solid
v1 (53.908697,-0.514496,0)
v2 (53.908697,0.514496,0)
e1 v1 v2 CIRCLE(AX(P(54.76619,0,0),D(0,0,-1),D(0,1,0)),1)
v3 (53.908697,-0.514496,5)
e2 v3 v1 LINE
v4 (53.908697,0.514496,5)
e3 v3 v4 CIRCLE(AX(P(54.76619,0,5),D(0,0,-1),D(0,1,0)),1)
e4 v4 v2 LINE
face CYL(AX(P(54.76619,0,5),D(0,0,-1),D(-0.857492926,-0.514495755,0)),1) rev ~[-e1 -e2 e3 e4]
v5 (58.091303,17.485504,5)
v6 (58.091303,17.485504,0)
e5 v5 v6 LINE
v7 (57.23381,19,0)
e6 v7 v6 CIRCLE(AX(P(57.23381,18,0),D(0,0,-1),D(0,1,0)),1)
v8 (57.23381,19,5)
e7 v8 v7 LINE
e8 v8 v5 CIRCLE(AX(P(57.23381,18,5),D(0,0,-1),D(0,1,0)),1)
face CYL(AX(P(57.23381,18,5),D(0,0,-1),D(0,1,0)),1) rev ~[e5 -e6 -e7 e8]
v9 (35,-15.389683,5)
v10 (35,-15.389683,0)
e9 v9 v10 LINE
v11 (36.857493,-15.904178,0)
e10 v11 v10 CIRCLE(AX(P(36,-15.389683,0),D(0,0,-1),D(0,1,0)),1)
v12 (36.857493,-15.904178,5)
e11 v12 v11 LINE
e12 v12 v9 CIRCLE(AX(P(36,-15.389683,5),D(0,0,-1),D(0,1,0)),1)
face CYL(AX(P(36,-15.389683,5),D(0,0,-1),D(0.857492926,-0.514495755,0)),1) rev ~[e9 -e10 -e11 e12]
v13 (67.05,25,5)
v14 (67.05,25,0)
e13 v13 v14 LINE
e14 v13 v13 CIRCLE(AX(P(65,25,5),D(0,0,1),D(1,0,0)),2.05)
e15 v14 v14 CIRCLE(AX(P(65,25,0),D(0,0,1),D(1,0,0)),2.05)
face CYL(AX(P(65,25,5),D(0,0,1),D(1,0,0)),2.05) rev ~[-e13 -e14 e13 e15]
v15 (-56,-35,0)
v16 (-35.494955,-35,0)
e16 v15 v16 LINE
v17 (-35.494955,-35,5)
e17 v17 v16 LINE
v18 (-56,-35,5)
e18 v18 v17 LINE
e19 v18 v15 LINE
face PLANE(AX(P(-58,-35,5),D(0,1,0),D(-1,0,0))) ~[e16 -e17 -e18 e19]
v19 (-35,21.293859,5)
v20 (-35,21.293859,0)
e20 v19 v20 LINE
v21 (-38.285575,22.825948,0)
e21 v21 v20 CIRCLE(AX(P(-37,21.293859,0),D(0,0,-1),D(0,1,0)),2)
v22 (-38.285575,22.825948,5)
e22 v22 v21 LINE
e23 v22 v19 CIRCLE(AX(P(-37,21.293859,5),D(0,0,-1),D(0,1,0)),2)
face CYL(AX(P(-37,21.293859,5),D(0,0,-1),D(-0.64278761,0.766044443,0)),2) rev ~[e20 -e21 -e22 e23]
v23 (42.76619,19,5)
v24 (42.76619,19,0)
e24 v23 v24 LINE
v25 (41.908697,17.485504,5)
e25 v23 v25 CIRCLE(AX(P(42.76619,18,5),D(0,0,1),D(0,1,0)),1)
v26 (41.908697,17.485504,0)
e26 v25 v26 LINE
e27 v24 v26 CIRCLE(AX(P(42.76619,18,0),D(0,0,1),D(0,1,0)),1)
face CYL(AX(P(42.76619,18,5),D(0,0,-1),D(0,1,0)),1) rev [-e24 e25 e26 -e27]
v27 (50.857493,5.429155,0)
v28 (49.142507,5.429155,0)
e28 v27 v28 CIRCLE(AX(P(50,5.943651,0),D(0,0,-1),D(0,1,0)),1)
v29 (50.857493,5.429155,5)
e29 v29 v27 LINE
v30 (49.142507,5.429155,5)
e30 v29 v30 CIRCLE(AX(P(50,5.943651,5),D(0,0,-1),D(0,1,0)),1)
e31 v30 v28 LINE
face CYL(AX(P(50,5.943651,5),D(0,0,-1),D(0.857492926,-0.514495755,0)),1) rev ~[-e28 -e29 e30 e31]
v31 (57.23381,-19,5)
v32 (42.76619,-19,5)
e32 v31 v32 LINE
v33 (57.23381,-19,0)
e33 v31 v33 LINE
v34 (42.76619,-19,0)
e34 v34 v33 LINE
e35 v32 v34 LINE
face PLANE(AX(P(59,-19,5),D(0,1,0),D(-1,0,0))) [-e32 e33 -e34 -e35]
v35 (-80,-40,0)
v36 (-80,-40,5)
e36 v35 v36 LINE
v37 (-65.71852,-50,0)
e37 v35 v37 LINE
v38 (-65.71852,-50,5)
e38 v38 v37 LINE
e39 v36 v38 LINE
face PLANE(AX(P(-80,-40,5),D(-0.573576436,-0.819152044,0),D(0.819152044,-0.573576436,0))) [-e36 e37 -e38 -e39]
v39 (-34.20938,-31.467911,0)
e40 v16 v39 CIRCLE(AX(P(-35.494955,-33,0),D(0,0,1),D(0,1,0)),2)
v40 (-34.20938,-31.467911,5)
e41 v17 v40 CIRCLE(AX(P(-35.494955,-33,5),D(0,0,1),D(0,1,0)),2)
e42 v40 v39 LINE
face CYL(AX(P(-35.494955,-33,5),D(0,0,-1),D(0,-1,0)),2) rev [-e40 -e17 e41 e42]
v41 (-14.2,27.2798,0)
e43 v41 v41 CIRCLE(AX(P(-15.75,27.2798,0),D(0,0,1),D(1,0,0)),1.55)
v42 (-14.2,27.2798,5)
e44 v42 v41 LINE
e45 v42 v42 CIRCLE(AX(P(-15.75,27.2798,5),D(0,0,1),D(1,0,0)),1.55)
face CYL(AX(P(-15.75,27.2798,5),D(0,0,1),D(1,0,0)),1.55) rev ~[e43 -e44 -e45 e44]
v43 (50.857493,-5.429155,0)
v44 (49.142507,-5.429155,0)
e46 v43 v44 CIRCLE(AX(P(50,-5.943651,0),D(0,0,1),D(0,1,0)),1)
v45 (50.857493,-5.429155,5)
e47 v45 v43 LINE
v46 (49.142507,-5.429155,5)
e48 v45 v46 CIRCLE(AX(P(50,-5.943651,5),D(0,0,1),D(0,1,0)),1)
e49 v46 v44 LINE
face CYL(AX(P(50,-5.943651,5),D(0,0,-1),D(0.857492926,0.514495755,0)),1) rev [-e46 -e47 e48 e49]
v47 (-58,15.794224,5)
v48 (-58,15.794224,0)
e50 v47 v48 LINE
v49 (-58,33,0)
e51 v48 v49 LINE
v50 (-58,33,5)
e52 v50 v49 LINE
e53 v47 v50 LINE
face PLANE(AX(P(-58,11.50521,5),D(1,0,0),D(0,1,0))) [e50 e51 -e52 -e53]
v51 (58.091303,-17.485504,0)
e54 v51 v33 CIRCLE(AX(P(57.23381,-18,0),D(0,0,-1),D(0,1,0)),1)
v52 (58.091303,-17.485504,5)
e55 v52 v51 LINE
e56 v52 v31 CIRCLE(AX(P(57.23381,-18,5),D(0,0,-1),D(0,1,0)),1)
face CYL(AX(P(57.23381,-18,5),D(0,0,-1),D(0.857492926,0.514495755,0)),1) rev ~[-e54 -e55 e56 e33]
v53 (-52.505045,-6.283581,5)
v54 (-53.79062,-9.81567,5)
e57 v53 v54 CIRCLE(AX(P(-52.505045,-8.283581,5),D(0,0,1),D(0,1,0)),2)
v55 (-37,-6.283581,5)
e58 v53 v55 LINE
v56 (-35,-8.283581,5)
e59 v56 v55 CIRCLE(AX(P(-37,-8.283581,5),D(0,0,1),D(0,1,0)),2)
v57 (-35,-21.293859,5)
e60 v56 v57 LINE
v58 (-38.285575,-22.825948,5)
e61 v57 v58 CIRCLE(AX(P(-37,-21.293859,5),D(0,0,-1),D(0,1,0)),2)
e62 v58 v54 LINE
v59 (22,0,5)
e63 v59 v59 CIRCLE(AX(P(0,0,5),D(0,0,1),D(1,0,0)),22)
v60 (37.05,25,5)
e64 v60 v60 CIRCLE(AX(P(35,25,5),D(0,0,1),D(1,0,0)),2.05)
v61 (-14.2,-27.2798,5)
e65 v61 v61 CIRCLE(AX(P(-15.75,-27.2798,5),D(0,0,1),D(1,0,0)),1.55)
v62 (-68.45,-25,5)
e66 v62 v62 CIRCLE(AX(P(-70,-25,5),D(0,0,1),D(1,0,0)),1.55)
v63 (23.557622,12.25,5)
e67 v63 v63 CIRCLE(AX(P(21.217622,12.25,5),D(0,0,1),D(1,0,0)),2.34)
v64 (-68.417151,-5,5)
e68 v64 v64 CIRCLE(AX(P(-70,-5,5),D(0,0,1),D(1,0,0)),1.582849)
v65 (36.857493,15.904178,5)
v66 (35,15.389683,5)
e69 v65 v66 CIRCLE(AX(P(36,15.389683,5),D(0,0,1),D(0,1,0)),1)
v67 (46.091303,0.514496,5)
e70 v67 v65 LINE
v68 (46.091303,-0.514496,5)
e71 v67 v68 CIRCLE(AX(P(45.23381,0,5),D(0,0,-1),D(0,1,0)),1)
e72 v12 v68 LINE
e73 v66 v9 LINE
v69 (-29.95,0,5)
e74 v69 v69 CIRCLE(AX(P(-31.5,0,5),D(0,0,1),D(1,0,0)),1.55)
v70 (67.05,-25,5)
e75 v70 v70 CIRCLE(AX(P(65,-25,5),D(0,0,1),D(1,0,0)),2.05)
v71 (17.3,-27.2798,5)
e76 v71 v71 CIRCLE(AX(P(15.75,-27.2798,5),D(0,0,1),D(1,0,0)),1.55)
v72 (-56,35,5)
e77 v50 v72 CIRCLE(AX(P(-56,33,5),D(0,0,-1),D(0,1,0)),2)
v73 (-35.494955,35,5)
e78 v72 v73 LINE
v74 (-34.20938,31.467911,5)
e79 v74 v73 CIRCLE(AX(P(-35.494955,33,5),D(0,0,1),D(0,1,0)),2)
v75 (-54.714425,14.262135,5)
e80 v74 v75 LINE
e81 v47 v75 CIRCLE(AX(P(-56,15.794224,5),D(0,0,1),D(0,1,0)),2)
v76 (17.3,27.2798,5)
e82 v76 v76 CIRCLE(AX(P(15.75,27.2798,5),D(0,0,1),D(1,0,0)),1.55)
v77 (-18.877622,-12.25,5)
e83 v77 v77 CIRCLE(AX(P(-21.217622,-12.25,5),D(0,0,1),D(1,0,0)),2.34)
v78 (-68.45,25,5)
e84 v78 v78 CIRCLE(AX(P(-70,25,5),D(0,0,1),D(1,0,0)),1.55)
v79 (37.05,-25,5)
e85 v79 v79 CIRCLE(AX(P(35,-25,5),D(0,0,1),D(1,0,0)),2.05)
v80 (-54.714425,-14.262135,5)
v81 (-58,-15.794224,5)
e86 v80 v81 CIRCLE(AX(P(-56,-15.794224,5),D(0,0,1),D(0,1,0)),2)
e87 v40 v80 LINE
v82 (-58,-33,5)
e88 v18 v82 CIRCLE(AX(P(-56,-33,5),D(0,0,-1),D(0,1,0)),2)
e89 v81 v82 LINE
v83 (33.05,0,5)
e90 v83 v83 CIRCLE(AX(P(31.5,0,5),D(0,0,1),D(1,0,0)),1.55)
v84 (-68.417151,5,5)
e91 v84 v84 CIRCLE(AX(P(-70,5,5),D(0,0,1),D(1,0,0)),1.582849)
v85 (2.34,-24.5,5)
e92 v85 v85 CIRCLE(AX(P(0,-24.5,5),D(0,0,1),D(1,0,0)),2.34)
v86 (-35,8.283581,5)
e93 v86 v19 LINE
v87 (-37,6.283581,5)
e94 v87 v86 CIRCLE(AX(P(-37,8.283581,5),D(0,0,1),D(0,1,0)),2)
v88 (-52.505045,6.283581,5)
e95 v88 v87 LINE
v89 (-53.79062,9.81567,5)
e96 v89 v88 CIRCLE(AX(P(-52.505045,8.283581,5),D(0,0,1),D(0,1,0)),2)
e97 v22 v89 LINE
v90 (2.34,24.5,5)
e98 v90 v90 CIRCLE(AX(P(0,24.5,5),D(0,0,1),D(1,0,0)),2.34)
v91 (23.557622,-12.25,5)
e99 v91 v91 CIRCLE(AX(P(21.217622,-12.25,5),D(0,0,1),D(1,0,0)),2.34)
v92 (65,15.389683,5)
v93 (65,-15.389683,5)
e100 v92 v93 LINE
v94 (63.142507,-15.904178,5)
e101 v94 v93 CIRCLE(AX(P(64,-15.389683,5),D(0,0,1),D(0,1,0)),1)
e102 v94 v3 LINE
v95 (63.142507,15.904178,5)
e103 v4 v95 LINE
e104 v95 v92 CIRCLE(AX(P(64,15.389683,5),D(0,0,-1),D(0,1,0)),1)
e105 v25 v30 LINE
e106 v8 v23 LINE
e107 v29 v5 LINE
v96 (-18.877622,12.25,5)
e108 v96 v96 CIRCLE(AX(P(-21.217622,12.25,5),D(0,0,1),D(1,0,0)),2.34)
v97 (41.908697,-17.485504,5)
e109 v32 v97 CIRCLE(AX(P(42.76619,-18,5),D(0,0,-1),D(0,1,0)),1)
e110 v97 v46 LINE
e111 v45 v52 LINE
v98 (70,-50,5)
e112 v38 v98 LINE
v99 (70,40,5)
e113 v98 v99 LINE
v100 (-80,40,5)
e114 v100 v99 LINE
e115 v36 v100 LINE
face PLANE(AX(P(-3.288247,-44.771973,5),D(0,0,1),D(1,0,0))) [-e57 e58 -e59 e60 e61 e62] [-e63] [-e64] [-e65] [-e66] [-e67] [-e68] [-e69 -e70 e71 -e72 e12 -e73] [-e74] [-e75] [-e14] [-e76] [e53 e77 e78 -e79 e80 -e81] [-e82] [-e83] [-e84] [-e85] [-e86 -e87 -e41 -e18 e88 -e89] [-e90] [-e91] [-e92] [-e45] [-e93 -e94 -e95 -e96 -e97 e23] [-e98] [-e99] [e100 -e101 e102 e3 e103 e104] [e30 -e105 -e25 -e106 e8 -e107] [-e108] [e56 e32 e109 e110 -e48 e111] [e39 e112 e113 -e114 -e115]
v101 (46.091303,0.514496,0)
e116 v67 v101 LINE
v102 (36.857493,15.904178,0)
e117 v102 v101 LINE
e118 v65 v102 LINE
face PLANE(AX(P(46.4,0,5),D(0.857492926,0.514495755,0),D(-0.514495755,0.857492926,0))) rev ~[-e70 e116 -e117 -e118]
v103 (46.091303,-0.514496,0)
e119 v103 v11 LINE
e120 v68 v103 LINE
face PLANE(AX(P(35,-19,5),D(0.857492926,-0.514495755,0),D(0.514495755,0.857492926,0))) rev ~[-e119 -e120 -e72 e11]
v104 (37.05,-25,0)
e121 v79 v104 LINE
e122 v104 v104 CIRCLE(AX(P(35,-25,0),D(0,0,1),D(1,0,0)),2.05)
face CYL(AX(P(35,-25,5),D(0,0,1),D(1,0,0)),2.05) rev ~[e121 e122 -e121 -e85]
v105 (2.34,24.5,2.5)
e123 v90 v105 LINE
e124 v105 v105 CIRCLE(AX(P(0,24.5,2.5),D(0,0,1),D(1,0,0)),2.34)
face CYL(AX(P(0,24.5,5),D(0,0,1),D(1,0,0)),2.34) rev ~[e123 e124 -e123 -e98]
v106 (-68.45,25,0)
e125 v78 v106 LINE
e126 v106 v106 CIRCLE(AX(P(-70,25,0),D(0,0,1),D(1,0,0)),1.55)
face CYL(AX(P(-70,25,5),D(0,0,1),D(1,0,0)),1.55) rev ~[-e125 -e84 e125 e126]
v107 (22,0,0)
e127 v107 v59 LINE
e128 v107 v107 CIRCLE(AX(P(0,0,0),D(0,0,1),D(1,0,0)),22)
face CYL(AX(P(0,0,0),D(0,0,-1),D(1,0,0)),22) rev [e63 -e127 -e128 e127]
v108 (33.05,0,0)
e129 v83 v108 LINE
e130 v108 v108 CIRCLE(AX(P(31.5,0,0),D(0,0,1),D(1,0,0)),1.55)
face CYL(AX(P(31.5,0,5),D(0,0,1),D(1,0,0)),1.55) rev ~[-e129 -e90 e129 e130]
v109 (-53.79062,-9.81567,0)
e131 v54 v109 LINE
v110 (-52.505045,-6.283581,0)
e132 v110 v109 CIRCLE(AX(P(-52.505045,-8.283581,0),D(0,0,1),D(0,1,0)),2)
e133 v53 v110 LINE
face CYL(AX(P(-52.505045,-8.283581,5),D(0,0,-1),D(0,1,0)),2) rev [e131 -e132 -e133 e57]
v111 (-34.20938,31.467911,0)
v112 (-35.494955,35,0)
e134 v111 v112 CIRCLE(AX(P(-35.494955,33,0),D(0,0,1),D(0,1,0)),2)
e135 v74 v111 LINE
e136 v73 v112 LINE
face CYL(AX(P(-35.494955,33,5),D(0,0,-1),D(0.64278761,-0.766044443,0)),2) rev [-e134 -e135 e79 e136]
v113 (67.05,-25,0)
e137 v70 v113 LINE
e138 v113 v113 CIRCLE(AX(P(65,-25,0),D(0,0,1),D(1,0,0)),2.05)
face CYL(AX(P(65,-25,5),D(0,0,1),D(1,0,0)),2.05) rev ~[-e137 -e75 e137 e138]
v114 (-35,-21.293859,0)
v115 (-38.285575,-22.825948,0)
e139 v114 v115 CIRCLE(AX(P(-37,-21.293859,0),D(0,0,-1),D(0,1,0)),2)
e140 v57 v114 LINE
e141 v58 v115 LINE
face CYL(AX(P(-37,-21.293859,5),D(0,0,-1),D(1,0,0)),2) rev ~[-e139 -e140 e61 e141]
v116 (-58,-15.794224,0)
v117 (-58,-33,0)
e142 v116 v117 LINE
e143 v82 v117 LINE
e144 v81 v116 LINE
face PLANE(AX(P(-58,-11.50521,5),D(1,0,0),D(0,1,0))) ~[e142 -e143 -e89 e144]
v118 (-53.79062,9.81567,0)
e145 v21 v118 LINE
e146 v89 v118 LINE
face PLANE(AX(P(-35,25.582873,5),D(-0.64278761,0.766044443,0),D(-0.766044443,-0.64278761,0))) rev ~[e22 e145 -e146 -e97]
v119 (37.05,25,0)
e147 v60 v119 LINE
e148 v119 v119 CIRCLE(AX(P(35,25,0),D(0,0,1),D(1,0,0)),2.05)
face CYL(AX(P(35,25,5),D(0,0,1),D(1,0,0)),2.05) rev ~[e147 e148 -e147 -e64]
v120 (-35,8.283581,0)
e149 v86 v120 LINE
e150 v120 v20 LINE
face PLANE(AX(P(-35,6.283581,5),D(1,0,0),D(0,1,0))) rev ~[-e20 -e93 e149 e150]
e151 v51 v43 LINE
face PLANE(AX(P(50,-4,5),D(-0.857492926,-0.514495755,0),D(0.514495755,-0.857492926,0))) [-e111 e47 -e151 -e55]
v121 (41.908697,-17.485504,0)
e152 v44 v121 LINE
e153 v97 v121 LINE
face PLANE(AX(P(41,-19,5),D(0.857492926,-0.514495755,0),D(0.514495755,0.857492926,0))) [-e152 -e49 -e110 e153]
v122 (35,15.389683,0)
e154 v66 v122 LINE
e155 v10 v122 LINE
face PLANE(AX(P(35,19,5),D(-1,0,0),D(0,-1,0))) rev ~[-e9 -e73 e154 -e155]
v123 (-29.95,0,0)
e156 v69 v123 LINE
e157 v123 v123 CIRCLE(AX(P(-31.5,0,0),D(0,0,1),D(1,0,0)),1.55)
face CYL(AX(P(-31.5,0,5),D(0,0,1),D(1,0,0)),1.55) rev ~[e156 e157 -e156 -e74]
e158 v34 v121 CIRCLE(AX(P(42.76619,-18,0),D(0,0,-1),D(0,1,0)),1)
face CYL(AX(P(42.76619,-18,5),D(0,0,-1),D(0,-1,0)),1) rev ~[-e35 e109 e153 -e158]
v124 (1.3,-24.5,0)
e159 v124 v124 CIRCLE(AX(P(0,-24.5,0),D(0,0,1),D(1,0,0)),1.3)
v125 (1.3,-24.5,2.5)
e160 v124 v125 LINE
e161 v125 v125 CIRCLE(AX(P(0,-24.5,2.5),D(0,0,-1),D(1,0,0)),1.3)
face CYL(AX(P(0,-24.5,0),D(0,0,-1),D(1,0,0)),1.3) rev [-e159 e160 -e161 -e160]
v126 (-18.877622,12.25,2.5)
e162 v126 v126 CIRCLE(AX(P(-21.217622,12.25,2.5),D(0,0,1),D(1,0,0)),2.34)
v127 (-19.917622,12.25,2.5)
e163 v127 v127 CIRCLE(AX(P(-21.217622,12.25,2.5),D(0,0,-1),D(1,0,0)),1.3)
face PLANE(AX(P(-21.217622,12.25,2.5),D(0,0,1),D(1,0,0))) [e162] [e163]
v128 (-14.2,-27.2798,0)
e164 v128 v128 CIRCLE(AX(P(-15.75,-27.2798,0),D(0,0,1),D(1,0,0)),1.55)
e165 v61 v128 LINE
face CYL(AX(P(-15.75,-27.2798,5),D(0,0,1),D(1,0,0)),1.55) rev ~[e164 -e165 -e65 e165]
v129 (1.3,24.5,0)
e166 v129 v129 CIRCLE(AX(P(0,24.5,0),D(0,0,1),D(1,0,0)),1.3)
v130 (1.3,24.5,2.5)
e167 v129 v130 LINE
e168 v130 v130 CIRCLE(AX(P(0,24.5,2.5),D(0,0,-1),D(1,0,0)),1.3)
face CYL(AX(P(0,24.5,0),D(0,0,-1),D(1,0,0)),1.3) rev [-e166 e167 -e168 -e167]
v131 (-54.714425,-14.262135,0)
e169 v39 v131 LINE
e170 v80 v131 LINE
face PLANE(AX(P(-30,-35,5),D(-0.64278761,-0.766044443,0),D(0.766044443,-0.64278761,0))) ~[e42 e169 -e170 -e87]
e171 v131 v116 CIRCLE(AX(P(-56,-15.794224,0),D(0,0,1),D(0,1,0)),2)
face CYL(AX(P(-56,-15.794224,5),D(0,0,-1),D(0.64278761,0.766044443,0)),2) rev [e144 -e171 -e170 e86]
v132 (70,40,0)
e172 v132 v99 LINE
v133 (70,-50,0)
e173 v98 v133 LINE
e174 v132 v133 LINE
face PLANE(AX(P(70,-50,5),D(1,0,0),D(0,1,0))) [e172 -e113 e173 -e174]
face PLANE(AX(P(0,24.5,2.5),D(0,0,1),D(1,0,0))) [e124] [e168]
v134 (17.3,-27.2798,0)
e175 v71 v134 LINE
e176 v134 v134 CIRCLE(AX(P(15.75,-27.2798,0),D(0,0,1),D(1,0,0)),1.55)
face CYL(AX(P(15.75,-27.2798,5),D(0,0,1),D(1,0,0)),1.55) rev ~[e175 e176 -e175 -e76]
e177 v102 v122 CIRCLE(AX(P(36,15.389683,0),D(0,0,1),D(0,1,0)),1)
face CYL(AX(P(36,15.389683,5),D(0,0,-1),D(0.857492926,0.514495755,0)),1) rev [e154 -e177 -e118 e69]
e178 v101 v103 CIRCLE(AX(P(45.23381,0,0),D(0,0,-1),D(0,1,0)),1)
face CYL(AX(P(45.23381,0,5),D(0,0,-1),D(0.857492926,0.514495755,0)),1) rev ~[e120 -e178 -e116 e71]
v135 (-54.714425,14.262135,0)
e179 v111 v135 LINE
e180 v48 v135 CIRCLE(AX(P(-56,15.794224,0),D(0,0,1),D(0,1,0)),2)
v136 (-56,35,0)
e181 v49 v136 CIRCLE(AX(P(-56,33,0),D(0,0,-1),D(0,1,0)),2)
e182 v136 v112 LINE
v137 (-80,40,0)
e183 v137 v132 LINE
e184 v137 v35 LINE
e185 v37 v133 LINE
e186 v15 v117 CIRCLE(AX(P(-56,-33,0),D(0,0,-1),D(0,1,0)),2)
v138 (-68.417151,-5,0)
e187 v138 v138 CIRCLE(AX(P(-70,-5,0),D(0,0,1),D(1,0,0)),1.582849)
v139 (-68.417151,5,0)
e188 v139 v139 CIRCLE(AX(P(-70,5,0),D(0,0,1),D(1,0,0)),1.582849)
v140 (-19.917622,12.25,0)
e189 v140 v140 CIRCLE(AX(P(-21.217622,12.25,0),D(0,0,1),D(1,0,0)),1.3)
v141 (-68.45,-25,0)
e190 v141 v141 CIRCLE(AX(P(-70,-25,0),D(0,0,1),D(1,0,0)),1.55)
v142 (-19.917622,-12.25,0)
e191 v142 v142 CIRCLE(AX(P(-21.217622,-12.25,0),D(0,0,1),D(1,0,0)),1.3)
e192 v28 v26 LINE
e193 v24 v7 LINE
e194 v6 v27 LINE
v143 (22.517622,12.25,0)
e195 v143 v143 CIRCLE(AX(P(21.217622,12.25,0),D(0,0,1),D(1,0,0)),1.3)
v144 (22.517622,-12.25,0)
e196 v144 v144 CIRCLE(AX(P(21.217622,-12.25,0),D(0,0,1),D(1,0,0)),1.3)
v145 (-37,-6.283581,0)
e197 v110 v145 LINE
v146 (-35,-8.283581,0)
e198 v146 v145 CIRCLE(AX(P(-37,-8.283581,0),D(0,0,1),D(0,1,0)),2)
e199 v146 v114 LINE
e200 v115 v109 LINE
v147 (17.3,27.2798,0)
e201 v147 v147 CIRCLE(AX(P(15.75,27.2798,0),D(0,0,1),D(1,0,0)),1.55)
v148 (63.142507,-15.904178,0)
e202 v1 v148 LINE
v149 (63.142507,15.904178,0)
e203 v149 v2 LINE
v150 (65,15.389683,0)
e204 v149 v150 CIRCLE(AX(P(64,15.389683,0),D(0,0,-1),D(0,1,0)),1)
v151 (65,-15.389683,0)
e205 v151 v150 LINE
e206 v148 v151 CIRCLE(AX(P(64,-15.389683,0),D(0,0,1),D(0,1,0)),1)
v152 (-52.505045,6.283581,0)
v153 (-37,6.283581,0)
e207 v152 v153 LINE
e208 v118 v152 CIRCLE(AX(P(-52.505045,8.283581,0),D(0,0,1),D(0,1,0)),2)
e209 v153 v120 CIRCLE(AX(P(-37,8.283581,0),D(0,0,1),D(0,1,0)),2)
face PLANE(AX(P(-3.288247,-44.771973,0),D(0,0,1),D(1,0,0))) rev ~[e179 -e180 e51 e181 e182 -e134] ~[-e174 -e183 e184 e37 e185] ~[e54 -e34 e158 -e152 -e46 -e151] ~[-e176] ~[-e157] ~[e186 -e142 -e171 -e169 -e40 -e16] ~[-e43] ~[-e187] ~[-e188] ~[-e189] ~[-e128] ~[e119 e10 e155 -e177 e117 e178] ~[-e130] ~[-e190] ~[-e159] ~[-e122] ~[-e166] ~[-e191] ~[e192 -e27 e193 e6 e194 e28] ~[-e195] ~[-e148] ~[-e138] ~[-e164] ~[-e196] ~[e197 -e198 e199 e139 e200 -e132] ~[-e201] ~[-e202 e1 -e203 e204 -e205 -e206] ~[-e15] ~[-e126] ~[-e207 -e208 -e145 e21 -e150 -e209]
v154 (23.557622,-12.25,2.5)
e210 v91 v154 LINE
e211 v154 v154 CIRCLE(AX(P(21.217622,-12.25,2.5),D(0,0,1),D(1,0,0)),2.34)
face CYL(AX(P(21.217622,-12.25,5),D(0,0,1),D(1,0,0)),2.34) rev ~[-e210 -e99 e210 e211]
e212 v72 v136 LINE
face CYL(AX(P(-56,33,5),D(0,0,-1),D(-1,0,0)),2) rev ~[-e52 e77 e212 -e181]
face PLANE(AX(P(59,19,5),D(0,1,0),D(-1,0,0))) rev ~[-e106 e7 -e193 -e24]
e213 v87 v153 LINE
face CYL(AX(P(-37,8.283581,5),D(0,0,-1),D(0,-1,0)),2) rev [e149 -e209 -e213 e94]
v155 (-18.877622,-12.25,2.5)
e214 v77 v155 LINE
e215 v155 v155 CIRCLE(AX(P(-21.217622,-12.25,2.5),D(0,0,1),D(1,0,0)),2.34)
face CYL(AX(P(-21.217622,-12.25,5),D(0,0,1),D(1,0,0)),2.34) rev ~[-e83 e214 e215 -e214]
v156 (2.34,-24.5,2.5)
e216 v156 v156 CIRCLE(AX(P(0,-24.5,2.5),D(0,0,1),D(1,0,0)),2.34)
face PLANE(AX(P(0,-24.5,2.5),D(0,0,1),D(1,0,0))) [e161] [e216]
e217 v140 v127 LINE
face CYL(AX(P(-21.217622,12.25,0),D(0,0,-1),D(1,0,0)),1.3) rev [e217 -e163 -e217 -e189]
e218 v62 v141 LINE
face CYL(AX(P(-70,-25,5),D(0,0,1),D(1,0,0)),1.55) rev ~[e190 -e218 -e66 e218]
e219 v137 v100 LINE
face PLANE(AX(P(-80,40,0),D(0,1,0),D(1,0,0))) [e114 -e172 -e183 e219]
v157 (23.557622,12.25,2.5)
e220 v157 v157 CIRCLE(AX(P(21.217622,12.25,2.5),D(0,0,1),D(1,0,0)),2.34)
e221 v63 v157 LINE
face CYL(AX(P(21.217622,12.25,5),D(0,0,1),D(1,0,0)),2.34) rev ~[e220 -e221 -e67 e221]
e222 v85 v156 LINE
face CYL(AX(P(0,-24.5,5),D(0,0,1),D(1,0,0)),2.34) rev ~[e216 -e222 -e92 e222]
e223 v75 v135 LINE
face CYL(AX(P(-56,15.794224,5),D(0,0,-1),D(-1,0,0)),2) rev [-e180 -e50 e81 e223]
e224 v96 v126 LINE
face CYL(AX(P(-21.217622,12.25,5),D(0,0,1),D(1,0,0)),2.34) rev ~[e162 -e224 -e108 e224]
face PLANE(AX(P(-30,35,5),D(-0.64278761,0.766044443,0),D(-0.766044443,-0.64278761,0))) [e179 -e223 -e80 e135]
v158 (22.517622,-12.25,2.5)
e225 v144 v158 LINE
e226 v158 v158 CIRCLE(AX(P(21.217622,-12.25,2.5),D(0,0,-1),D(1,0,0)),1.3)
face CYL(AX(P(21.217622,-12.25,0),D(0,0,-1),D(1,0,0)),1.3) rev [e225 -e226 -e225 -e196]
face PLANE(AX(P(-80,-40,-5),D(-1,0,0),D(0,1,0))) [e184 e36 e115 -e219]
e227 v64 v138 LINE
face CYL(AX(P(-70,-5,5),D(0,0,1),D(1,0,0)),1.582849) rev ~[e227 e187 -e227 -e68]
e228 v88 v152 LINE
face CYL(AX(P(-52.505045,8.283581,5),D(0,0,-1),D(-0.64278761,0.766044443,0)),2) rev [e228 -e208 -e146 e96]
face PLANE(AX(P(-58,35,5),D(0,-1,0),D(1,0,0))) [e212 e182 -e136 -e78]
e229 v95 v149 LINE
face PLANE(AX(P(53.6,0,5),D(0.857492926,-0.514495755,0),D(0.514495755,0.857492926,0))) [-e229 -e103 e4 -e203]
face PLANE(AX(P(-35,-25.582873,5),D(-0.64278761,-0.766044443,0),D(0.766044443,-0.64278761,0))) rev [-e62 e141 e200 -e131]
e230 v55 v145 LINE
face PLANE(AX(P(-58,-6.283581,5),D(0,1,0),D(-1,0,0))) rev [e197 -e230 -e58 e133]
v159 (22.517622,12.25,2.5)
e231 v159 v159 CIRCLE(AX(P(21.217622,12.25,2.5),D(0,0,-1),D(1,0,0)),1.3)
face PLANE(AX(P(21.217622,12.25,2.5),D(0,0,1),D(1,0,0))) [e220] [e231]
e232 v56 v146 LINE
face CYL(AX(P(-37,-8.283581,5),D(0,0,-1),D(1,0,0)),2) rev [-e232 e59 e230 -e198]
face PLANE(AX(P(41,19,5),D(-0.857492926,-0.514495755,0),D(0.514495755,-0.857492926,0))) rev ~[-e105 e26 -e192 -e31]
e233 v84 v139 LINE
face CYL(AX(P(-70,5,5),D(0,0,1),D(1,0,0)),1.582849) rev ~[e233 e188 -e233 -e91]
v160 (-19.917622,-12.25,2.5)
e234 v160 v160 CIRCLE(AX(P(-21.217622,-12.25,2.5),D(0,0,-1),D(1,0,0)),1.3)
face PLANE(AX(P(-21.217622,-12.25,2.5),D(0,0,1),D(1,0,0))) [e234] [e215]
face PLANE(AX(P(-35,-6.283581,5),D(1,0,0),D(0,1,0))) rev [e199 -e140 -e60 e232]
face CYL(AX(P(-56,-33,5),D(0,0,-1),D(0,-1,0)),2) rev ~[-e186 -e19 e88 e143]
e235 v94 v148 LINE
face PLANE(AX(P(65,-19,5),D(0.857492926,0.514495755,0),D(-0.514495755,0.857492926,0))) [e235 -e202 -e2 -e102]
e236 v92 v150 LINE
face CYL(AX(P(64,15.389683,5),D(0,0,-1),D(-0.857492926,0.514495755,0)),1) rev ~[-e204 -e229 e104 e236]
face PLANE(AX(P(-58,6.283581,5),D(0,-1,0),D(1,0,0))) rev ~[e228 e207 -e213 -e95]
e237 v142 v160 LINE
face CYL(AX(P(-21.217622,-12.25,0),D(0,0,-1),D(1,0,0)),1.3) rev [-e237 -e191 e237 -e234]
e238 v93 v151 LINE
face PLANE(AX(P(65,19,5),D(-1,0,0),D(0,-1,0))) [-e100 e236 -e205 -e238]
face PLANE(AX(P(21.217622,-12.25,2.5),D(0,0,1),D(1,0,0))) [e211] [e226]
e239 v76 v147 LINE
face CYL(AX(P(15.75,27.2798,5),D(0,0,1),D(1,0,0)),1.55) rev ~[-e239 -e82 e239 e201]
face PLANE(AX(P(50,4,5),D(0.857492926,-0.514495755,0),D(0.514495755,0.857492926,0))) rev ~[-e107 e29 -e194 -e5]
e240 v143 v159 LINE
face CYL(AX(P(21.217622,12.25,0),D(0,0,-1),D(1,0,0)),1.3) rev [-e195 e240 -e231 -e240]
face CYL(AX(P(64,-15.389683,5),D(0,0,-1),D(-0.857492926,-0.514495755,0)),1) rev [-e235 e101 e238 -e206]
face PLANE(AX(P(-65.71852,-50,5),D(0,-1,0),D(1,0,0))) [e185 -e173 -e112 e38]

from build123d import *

# Parameters (mm, degrees)
SKETCH_1_W             = 150
SKETCH_1_H             = 80
SKETCH_1_R             = 1.3
SKETCH_1_R_2           = 22
EXTRUDE_1_DEPTH        = 5
SKETCH_2_R             = 2.34
CUT_EXTRUDE_1_DEPTH    = 2.5
SKETCH_3_R             = 1.55
SKETCH_3_R_2           = 1.582849294
CUT_EXTRUDE_3_DEPTH    = 12.5
CUT_EXTRUDE_5_DEPTH    = 8
FILLET_3_R             = 2
FILLET_3_OF_MIRROR_2_R = 2
EXTRUDE_4_DEPTH        = 5
FILLET_5_R             = 5
SKETCH_11_R            = 1.55
CUT_EXTRUDE_7_DEPTH    = 25
SKETCH_12_R            = 2.05
CUT_EXTRUDE_8_DEPTH    = 10
CUT_EXTRUDE_9_DEPTH    = 10
FILLET_6_R             = 1
EXTRUDE_5_DEPTH        = 5
CUT_EXTRUDE_START      = -10
CUT_EXTRUDE_10_DEPTH   = 10


with BuildPart() as part:
    # 草图1 → 凸台-拉伸1 (new body)
    with BuildSketch(Plane.XY):
        with Locations((-5, 0)):
            Rectangle(SKETCH_1_W, SKETCH_1_H)
        with Locations((0, -24.5)):
            Circle(SKETCH_1_R, mode=Mode.SUBTRACT)
        with Locations((-21.217622393, -12.25)):
            Circle(SKETCH_1_R, mode=Mode.SUBTRACT)
        with Locations((-21.217622393, 12.25)):
            Circle(SKETCH_1_R, mode=Mode.SUBTRACT)
        Circle(SKETCH_1_R_2, mode=Mode.SUBTRACT)
        with Locations((0, 24.5)):
            Circle(SKETCH_1_R, mode=Mode.SUBTRACT)
        with Locations((21.217622393, 12.25)):
            Circle(SKETCH_1_R, mode=Mode.SUBTRACT)
        with Locations((21.217622393, -12.25)):
            Circle(SKETCH_1_R, mode=Mode.SUBTRACT)
    extrude(amount=EXTRUDE_1_DEPTH)

    # 草图2 → 切除-拉伸1 (cut)
    with BuildSketch(Plane.XY.offset(5)):
        with Locations((-21.217622393, 12.25)):
            Circle(SKETCH_2_R)
        with Locations((0, 24.5)):
            Circle(SKETCH_2_R)
        with Locations((21.217622393, 12.25)):
            Circle(SKETCH_2_R)
        with Locations((21.217622393, -12.25)):
            Circle(SKETCH_2_R)
        with Locations((0, -24.5)):
            Circle(SKETCH_2_R)
        with Locations((-21.217622393, -12.25)):
            Circle(SKETCH_2_R)
    extrude(amount=-CUT_EXTRUDE_1_DEPTH, mode=Mode.SUBTRACT)

    # 草图3 → 切除-拉伸3 (cut)
    with BuildSketch(Plane.XY.offset(5)):
        with Locations((-70, -25)):
            Circle(SKETCH_3_R)
        with Locations((-70, -5)):
            Circle(SKETCH_3_R_2)
        with Locations((-70, 25)):
            Circle(SKETCH_3_R)
        with Locations((-70, 5)):
            Circle(SKETCH_3_R_2)
    extrude(amount=-CUT_EXTRUDE_3_DEPTH, mode=Mode.SUBTRACT)

    # 草图4 → 切除-拉伸5 (cut)
    with BuildSketch(Plane.XY.offset(5)):
        Polygon((-58, 35), (-30, 35), (-58, 11.505210327), align=None)
        Polygon((-35, 25.582872687), (-58, 6.28358117), (-35, 6.28358117), align=None)
    cut_extrude_5 = extrude(amount=-CUT_EXTRUDE_5_DEPTH, mode=Mode.SUBTRACT)

    # 圆角3
    fillet_3_edges = [part.edges().sort_by_distance(p)[0] for p in [
        (-35, 6.28358117, 2.5),
        (-58, 6.28358117, 2.5),
        (-35, 25.582872687, 2.5),
        (-30, 35, 2.5),
        (-58, 11.505210327, 2.5),
        (-58, 35, 2.5),
    ]]
    fillet(fillet_3_edges, radius=FILLET_3_R)

    # 镜向2: 切除-拉伸5 across plane
    add(cut_extrude_5.mirror(Plane.ZX), mode=Mode.SUBTRACT)

    # 圆角3 of 镜向2
    fillet_3_of_mirror_2_edges = [part.edges().sort_by_distance(p)[0] for p in [
        (-35, -6.28358117, 2.5),
        (-58, -6.28358117, 2.5),
        (-35, -25.582872687, 2.5),
        (-30, -35, 2.5),
        (-58, -11.505210327, 2.5),
        (-58, -35, 2.5),
    ]]
    fillet(fillet_3_of_mirror_2_edges, radius=FILLET_3_OF_MIRROR_2_R)

    # 草图10 → 凸台-拉伸4 (add)
    with BuildSketch(Plane.XY.offset(5)):
        Polygon((-80, -40), (-127.053079228, -7.053079228), (-80, 40), align=None)
    extrude(amount=-EXTRUDE_4_DEPTH)

    # 圆角5
    fillet_5_edges = [part.edges().sort_by_distance(p)[0] for p in [
        (-127.053079228, -7.053079228, 2.5),
    ]]
    fillet(fillet_5_edges, radius=FILLET_5_R)

    # 草图11 → 切除-拉伸7 (cut)
    with BuildSketch(Plane.XY.offset(5)):
        with Locations((-15.75, 27.279800219)):
            Circle(SKETCH_11_R)
        with Locations((15.75, 27.279800219)):
            Circle(SKETCH_11_R)
        with Locations((31.5, 0)):
            Circle(SKETCH_11_R)
        with Locations((15.75, -27.279800219)):
            Circle(SKETCH_11_R)
        with Locations((-15.75, -27.279800219)):
            Circle(SKETCH_11_R)
        with Locations((-31.5, 0)):
            Circle(SKETCH_11_R)
    extrude(amount=-CUT_EXTRUDE_7_DEPTH, mode=Mode.SUBTRACT)

    # 草图12 → 切除-拉伸8 (cut)
    with BuildSketch(Plane.XY.offset(5)):
        with Locations((35, 25)):
            Circle(SKETCH_12_R)
        with Locations((65, 25)):
            Circle(SKETCH_12_R)
        with Locations((65, -25)):
            Circle(SKETCH_12_R)
        with Locations((35, -25)):
            Circle(SKETCH_12_R)
    extrude(amount=-CUT_EXTRUDE_8_DEPTH, mode=Mode.SUBTRACT)

    # 草图13 → 切除-拉伸9 (cut)
    with BuildSketch(Plane.XY.offset(5)):
        Polygon((35, 19), (35, -19), (46.4, 0), align=None)
        Polygon((65, -19), (53.6, 0), (65, 19), align=None)
        Polygon((41, 19), (50, 4), (59, 19), align=None)
        Polygon((50, -4), (59, -19), (41, -19), align=None)
    extrude(amount=-CUT_EXTRUDE_9_DEPTH, mode=Mode.SUBTRACT)

    # 圆角6
    fillet_6_edges = [part.edges().sort_by_distance(p)[0] for p in [
        (41, 19, 2.5),
        (59, 19, 2.5),
        (50, 4, 2.5),
        (65, 19, 2.5),
        (65, -19, 2.5),
        (53.6, 0, 2.5),
        (41, -19, 2.5),
        (50, -4, 2.5),
        (59, -19, 2.5),
        (35, 19, 2.5),
        (46.4, 0, 2.5),
        (35, -19, 2.5),
    ]]
    fillet(fillet_6_edges, radius=FILLET_6_R)

    # 草图14 → 凸台-拉伸5 (add)
    with BuildSketch(Plane.XY.offset(5)):
        Polygon((-80, -40), (-65.718519933, -50), (70, -50), (70, -40), align=None)
    extrude(amount=-EXTRUDE_5_DEPTH)

    # 草图15 → 切除-拉伸10 (cut)
    with BuildSketch(Plane.XY.offset(5).offset(CUT_EXTRUDE_START)):
        with BuildLine():
            Line((-80, 40), (-122.839593994, -2.839593994))
            ThreePointArc((-122.839593994, -2.839593994), (-124.285033579, -6.810906614), (-122.17194227, -10.470888122))
            Line((-122.17194227, -10.470888122), (-80, -40))
            Line((-80, -40), (-80, 0))
            Line((-80, 0), (-80, 40))
        make_face()
    extrude(amount=CUT_EXTRUDE_10_DEPTH, mode=Mode.SUBTRACT)


solid = part.part
